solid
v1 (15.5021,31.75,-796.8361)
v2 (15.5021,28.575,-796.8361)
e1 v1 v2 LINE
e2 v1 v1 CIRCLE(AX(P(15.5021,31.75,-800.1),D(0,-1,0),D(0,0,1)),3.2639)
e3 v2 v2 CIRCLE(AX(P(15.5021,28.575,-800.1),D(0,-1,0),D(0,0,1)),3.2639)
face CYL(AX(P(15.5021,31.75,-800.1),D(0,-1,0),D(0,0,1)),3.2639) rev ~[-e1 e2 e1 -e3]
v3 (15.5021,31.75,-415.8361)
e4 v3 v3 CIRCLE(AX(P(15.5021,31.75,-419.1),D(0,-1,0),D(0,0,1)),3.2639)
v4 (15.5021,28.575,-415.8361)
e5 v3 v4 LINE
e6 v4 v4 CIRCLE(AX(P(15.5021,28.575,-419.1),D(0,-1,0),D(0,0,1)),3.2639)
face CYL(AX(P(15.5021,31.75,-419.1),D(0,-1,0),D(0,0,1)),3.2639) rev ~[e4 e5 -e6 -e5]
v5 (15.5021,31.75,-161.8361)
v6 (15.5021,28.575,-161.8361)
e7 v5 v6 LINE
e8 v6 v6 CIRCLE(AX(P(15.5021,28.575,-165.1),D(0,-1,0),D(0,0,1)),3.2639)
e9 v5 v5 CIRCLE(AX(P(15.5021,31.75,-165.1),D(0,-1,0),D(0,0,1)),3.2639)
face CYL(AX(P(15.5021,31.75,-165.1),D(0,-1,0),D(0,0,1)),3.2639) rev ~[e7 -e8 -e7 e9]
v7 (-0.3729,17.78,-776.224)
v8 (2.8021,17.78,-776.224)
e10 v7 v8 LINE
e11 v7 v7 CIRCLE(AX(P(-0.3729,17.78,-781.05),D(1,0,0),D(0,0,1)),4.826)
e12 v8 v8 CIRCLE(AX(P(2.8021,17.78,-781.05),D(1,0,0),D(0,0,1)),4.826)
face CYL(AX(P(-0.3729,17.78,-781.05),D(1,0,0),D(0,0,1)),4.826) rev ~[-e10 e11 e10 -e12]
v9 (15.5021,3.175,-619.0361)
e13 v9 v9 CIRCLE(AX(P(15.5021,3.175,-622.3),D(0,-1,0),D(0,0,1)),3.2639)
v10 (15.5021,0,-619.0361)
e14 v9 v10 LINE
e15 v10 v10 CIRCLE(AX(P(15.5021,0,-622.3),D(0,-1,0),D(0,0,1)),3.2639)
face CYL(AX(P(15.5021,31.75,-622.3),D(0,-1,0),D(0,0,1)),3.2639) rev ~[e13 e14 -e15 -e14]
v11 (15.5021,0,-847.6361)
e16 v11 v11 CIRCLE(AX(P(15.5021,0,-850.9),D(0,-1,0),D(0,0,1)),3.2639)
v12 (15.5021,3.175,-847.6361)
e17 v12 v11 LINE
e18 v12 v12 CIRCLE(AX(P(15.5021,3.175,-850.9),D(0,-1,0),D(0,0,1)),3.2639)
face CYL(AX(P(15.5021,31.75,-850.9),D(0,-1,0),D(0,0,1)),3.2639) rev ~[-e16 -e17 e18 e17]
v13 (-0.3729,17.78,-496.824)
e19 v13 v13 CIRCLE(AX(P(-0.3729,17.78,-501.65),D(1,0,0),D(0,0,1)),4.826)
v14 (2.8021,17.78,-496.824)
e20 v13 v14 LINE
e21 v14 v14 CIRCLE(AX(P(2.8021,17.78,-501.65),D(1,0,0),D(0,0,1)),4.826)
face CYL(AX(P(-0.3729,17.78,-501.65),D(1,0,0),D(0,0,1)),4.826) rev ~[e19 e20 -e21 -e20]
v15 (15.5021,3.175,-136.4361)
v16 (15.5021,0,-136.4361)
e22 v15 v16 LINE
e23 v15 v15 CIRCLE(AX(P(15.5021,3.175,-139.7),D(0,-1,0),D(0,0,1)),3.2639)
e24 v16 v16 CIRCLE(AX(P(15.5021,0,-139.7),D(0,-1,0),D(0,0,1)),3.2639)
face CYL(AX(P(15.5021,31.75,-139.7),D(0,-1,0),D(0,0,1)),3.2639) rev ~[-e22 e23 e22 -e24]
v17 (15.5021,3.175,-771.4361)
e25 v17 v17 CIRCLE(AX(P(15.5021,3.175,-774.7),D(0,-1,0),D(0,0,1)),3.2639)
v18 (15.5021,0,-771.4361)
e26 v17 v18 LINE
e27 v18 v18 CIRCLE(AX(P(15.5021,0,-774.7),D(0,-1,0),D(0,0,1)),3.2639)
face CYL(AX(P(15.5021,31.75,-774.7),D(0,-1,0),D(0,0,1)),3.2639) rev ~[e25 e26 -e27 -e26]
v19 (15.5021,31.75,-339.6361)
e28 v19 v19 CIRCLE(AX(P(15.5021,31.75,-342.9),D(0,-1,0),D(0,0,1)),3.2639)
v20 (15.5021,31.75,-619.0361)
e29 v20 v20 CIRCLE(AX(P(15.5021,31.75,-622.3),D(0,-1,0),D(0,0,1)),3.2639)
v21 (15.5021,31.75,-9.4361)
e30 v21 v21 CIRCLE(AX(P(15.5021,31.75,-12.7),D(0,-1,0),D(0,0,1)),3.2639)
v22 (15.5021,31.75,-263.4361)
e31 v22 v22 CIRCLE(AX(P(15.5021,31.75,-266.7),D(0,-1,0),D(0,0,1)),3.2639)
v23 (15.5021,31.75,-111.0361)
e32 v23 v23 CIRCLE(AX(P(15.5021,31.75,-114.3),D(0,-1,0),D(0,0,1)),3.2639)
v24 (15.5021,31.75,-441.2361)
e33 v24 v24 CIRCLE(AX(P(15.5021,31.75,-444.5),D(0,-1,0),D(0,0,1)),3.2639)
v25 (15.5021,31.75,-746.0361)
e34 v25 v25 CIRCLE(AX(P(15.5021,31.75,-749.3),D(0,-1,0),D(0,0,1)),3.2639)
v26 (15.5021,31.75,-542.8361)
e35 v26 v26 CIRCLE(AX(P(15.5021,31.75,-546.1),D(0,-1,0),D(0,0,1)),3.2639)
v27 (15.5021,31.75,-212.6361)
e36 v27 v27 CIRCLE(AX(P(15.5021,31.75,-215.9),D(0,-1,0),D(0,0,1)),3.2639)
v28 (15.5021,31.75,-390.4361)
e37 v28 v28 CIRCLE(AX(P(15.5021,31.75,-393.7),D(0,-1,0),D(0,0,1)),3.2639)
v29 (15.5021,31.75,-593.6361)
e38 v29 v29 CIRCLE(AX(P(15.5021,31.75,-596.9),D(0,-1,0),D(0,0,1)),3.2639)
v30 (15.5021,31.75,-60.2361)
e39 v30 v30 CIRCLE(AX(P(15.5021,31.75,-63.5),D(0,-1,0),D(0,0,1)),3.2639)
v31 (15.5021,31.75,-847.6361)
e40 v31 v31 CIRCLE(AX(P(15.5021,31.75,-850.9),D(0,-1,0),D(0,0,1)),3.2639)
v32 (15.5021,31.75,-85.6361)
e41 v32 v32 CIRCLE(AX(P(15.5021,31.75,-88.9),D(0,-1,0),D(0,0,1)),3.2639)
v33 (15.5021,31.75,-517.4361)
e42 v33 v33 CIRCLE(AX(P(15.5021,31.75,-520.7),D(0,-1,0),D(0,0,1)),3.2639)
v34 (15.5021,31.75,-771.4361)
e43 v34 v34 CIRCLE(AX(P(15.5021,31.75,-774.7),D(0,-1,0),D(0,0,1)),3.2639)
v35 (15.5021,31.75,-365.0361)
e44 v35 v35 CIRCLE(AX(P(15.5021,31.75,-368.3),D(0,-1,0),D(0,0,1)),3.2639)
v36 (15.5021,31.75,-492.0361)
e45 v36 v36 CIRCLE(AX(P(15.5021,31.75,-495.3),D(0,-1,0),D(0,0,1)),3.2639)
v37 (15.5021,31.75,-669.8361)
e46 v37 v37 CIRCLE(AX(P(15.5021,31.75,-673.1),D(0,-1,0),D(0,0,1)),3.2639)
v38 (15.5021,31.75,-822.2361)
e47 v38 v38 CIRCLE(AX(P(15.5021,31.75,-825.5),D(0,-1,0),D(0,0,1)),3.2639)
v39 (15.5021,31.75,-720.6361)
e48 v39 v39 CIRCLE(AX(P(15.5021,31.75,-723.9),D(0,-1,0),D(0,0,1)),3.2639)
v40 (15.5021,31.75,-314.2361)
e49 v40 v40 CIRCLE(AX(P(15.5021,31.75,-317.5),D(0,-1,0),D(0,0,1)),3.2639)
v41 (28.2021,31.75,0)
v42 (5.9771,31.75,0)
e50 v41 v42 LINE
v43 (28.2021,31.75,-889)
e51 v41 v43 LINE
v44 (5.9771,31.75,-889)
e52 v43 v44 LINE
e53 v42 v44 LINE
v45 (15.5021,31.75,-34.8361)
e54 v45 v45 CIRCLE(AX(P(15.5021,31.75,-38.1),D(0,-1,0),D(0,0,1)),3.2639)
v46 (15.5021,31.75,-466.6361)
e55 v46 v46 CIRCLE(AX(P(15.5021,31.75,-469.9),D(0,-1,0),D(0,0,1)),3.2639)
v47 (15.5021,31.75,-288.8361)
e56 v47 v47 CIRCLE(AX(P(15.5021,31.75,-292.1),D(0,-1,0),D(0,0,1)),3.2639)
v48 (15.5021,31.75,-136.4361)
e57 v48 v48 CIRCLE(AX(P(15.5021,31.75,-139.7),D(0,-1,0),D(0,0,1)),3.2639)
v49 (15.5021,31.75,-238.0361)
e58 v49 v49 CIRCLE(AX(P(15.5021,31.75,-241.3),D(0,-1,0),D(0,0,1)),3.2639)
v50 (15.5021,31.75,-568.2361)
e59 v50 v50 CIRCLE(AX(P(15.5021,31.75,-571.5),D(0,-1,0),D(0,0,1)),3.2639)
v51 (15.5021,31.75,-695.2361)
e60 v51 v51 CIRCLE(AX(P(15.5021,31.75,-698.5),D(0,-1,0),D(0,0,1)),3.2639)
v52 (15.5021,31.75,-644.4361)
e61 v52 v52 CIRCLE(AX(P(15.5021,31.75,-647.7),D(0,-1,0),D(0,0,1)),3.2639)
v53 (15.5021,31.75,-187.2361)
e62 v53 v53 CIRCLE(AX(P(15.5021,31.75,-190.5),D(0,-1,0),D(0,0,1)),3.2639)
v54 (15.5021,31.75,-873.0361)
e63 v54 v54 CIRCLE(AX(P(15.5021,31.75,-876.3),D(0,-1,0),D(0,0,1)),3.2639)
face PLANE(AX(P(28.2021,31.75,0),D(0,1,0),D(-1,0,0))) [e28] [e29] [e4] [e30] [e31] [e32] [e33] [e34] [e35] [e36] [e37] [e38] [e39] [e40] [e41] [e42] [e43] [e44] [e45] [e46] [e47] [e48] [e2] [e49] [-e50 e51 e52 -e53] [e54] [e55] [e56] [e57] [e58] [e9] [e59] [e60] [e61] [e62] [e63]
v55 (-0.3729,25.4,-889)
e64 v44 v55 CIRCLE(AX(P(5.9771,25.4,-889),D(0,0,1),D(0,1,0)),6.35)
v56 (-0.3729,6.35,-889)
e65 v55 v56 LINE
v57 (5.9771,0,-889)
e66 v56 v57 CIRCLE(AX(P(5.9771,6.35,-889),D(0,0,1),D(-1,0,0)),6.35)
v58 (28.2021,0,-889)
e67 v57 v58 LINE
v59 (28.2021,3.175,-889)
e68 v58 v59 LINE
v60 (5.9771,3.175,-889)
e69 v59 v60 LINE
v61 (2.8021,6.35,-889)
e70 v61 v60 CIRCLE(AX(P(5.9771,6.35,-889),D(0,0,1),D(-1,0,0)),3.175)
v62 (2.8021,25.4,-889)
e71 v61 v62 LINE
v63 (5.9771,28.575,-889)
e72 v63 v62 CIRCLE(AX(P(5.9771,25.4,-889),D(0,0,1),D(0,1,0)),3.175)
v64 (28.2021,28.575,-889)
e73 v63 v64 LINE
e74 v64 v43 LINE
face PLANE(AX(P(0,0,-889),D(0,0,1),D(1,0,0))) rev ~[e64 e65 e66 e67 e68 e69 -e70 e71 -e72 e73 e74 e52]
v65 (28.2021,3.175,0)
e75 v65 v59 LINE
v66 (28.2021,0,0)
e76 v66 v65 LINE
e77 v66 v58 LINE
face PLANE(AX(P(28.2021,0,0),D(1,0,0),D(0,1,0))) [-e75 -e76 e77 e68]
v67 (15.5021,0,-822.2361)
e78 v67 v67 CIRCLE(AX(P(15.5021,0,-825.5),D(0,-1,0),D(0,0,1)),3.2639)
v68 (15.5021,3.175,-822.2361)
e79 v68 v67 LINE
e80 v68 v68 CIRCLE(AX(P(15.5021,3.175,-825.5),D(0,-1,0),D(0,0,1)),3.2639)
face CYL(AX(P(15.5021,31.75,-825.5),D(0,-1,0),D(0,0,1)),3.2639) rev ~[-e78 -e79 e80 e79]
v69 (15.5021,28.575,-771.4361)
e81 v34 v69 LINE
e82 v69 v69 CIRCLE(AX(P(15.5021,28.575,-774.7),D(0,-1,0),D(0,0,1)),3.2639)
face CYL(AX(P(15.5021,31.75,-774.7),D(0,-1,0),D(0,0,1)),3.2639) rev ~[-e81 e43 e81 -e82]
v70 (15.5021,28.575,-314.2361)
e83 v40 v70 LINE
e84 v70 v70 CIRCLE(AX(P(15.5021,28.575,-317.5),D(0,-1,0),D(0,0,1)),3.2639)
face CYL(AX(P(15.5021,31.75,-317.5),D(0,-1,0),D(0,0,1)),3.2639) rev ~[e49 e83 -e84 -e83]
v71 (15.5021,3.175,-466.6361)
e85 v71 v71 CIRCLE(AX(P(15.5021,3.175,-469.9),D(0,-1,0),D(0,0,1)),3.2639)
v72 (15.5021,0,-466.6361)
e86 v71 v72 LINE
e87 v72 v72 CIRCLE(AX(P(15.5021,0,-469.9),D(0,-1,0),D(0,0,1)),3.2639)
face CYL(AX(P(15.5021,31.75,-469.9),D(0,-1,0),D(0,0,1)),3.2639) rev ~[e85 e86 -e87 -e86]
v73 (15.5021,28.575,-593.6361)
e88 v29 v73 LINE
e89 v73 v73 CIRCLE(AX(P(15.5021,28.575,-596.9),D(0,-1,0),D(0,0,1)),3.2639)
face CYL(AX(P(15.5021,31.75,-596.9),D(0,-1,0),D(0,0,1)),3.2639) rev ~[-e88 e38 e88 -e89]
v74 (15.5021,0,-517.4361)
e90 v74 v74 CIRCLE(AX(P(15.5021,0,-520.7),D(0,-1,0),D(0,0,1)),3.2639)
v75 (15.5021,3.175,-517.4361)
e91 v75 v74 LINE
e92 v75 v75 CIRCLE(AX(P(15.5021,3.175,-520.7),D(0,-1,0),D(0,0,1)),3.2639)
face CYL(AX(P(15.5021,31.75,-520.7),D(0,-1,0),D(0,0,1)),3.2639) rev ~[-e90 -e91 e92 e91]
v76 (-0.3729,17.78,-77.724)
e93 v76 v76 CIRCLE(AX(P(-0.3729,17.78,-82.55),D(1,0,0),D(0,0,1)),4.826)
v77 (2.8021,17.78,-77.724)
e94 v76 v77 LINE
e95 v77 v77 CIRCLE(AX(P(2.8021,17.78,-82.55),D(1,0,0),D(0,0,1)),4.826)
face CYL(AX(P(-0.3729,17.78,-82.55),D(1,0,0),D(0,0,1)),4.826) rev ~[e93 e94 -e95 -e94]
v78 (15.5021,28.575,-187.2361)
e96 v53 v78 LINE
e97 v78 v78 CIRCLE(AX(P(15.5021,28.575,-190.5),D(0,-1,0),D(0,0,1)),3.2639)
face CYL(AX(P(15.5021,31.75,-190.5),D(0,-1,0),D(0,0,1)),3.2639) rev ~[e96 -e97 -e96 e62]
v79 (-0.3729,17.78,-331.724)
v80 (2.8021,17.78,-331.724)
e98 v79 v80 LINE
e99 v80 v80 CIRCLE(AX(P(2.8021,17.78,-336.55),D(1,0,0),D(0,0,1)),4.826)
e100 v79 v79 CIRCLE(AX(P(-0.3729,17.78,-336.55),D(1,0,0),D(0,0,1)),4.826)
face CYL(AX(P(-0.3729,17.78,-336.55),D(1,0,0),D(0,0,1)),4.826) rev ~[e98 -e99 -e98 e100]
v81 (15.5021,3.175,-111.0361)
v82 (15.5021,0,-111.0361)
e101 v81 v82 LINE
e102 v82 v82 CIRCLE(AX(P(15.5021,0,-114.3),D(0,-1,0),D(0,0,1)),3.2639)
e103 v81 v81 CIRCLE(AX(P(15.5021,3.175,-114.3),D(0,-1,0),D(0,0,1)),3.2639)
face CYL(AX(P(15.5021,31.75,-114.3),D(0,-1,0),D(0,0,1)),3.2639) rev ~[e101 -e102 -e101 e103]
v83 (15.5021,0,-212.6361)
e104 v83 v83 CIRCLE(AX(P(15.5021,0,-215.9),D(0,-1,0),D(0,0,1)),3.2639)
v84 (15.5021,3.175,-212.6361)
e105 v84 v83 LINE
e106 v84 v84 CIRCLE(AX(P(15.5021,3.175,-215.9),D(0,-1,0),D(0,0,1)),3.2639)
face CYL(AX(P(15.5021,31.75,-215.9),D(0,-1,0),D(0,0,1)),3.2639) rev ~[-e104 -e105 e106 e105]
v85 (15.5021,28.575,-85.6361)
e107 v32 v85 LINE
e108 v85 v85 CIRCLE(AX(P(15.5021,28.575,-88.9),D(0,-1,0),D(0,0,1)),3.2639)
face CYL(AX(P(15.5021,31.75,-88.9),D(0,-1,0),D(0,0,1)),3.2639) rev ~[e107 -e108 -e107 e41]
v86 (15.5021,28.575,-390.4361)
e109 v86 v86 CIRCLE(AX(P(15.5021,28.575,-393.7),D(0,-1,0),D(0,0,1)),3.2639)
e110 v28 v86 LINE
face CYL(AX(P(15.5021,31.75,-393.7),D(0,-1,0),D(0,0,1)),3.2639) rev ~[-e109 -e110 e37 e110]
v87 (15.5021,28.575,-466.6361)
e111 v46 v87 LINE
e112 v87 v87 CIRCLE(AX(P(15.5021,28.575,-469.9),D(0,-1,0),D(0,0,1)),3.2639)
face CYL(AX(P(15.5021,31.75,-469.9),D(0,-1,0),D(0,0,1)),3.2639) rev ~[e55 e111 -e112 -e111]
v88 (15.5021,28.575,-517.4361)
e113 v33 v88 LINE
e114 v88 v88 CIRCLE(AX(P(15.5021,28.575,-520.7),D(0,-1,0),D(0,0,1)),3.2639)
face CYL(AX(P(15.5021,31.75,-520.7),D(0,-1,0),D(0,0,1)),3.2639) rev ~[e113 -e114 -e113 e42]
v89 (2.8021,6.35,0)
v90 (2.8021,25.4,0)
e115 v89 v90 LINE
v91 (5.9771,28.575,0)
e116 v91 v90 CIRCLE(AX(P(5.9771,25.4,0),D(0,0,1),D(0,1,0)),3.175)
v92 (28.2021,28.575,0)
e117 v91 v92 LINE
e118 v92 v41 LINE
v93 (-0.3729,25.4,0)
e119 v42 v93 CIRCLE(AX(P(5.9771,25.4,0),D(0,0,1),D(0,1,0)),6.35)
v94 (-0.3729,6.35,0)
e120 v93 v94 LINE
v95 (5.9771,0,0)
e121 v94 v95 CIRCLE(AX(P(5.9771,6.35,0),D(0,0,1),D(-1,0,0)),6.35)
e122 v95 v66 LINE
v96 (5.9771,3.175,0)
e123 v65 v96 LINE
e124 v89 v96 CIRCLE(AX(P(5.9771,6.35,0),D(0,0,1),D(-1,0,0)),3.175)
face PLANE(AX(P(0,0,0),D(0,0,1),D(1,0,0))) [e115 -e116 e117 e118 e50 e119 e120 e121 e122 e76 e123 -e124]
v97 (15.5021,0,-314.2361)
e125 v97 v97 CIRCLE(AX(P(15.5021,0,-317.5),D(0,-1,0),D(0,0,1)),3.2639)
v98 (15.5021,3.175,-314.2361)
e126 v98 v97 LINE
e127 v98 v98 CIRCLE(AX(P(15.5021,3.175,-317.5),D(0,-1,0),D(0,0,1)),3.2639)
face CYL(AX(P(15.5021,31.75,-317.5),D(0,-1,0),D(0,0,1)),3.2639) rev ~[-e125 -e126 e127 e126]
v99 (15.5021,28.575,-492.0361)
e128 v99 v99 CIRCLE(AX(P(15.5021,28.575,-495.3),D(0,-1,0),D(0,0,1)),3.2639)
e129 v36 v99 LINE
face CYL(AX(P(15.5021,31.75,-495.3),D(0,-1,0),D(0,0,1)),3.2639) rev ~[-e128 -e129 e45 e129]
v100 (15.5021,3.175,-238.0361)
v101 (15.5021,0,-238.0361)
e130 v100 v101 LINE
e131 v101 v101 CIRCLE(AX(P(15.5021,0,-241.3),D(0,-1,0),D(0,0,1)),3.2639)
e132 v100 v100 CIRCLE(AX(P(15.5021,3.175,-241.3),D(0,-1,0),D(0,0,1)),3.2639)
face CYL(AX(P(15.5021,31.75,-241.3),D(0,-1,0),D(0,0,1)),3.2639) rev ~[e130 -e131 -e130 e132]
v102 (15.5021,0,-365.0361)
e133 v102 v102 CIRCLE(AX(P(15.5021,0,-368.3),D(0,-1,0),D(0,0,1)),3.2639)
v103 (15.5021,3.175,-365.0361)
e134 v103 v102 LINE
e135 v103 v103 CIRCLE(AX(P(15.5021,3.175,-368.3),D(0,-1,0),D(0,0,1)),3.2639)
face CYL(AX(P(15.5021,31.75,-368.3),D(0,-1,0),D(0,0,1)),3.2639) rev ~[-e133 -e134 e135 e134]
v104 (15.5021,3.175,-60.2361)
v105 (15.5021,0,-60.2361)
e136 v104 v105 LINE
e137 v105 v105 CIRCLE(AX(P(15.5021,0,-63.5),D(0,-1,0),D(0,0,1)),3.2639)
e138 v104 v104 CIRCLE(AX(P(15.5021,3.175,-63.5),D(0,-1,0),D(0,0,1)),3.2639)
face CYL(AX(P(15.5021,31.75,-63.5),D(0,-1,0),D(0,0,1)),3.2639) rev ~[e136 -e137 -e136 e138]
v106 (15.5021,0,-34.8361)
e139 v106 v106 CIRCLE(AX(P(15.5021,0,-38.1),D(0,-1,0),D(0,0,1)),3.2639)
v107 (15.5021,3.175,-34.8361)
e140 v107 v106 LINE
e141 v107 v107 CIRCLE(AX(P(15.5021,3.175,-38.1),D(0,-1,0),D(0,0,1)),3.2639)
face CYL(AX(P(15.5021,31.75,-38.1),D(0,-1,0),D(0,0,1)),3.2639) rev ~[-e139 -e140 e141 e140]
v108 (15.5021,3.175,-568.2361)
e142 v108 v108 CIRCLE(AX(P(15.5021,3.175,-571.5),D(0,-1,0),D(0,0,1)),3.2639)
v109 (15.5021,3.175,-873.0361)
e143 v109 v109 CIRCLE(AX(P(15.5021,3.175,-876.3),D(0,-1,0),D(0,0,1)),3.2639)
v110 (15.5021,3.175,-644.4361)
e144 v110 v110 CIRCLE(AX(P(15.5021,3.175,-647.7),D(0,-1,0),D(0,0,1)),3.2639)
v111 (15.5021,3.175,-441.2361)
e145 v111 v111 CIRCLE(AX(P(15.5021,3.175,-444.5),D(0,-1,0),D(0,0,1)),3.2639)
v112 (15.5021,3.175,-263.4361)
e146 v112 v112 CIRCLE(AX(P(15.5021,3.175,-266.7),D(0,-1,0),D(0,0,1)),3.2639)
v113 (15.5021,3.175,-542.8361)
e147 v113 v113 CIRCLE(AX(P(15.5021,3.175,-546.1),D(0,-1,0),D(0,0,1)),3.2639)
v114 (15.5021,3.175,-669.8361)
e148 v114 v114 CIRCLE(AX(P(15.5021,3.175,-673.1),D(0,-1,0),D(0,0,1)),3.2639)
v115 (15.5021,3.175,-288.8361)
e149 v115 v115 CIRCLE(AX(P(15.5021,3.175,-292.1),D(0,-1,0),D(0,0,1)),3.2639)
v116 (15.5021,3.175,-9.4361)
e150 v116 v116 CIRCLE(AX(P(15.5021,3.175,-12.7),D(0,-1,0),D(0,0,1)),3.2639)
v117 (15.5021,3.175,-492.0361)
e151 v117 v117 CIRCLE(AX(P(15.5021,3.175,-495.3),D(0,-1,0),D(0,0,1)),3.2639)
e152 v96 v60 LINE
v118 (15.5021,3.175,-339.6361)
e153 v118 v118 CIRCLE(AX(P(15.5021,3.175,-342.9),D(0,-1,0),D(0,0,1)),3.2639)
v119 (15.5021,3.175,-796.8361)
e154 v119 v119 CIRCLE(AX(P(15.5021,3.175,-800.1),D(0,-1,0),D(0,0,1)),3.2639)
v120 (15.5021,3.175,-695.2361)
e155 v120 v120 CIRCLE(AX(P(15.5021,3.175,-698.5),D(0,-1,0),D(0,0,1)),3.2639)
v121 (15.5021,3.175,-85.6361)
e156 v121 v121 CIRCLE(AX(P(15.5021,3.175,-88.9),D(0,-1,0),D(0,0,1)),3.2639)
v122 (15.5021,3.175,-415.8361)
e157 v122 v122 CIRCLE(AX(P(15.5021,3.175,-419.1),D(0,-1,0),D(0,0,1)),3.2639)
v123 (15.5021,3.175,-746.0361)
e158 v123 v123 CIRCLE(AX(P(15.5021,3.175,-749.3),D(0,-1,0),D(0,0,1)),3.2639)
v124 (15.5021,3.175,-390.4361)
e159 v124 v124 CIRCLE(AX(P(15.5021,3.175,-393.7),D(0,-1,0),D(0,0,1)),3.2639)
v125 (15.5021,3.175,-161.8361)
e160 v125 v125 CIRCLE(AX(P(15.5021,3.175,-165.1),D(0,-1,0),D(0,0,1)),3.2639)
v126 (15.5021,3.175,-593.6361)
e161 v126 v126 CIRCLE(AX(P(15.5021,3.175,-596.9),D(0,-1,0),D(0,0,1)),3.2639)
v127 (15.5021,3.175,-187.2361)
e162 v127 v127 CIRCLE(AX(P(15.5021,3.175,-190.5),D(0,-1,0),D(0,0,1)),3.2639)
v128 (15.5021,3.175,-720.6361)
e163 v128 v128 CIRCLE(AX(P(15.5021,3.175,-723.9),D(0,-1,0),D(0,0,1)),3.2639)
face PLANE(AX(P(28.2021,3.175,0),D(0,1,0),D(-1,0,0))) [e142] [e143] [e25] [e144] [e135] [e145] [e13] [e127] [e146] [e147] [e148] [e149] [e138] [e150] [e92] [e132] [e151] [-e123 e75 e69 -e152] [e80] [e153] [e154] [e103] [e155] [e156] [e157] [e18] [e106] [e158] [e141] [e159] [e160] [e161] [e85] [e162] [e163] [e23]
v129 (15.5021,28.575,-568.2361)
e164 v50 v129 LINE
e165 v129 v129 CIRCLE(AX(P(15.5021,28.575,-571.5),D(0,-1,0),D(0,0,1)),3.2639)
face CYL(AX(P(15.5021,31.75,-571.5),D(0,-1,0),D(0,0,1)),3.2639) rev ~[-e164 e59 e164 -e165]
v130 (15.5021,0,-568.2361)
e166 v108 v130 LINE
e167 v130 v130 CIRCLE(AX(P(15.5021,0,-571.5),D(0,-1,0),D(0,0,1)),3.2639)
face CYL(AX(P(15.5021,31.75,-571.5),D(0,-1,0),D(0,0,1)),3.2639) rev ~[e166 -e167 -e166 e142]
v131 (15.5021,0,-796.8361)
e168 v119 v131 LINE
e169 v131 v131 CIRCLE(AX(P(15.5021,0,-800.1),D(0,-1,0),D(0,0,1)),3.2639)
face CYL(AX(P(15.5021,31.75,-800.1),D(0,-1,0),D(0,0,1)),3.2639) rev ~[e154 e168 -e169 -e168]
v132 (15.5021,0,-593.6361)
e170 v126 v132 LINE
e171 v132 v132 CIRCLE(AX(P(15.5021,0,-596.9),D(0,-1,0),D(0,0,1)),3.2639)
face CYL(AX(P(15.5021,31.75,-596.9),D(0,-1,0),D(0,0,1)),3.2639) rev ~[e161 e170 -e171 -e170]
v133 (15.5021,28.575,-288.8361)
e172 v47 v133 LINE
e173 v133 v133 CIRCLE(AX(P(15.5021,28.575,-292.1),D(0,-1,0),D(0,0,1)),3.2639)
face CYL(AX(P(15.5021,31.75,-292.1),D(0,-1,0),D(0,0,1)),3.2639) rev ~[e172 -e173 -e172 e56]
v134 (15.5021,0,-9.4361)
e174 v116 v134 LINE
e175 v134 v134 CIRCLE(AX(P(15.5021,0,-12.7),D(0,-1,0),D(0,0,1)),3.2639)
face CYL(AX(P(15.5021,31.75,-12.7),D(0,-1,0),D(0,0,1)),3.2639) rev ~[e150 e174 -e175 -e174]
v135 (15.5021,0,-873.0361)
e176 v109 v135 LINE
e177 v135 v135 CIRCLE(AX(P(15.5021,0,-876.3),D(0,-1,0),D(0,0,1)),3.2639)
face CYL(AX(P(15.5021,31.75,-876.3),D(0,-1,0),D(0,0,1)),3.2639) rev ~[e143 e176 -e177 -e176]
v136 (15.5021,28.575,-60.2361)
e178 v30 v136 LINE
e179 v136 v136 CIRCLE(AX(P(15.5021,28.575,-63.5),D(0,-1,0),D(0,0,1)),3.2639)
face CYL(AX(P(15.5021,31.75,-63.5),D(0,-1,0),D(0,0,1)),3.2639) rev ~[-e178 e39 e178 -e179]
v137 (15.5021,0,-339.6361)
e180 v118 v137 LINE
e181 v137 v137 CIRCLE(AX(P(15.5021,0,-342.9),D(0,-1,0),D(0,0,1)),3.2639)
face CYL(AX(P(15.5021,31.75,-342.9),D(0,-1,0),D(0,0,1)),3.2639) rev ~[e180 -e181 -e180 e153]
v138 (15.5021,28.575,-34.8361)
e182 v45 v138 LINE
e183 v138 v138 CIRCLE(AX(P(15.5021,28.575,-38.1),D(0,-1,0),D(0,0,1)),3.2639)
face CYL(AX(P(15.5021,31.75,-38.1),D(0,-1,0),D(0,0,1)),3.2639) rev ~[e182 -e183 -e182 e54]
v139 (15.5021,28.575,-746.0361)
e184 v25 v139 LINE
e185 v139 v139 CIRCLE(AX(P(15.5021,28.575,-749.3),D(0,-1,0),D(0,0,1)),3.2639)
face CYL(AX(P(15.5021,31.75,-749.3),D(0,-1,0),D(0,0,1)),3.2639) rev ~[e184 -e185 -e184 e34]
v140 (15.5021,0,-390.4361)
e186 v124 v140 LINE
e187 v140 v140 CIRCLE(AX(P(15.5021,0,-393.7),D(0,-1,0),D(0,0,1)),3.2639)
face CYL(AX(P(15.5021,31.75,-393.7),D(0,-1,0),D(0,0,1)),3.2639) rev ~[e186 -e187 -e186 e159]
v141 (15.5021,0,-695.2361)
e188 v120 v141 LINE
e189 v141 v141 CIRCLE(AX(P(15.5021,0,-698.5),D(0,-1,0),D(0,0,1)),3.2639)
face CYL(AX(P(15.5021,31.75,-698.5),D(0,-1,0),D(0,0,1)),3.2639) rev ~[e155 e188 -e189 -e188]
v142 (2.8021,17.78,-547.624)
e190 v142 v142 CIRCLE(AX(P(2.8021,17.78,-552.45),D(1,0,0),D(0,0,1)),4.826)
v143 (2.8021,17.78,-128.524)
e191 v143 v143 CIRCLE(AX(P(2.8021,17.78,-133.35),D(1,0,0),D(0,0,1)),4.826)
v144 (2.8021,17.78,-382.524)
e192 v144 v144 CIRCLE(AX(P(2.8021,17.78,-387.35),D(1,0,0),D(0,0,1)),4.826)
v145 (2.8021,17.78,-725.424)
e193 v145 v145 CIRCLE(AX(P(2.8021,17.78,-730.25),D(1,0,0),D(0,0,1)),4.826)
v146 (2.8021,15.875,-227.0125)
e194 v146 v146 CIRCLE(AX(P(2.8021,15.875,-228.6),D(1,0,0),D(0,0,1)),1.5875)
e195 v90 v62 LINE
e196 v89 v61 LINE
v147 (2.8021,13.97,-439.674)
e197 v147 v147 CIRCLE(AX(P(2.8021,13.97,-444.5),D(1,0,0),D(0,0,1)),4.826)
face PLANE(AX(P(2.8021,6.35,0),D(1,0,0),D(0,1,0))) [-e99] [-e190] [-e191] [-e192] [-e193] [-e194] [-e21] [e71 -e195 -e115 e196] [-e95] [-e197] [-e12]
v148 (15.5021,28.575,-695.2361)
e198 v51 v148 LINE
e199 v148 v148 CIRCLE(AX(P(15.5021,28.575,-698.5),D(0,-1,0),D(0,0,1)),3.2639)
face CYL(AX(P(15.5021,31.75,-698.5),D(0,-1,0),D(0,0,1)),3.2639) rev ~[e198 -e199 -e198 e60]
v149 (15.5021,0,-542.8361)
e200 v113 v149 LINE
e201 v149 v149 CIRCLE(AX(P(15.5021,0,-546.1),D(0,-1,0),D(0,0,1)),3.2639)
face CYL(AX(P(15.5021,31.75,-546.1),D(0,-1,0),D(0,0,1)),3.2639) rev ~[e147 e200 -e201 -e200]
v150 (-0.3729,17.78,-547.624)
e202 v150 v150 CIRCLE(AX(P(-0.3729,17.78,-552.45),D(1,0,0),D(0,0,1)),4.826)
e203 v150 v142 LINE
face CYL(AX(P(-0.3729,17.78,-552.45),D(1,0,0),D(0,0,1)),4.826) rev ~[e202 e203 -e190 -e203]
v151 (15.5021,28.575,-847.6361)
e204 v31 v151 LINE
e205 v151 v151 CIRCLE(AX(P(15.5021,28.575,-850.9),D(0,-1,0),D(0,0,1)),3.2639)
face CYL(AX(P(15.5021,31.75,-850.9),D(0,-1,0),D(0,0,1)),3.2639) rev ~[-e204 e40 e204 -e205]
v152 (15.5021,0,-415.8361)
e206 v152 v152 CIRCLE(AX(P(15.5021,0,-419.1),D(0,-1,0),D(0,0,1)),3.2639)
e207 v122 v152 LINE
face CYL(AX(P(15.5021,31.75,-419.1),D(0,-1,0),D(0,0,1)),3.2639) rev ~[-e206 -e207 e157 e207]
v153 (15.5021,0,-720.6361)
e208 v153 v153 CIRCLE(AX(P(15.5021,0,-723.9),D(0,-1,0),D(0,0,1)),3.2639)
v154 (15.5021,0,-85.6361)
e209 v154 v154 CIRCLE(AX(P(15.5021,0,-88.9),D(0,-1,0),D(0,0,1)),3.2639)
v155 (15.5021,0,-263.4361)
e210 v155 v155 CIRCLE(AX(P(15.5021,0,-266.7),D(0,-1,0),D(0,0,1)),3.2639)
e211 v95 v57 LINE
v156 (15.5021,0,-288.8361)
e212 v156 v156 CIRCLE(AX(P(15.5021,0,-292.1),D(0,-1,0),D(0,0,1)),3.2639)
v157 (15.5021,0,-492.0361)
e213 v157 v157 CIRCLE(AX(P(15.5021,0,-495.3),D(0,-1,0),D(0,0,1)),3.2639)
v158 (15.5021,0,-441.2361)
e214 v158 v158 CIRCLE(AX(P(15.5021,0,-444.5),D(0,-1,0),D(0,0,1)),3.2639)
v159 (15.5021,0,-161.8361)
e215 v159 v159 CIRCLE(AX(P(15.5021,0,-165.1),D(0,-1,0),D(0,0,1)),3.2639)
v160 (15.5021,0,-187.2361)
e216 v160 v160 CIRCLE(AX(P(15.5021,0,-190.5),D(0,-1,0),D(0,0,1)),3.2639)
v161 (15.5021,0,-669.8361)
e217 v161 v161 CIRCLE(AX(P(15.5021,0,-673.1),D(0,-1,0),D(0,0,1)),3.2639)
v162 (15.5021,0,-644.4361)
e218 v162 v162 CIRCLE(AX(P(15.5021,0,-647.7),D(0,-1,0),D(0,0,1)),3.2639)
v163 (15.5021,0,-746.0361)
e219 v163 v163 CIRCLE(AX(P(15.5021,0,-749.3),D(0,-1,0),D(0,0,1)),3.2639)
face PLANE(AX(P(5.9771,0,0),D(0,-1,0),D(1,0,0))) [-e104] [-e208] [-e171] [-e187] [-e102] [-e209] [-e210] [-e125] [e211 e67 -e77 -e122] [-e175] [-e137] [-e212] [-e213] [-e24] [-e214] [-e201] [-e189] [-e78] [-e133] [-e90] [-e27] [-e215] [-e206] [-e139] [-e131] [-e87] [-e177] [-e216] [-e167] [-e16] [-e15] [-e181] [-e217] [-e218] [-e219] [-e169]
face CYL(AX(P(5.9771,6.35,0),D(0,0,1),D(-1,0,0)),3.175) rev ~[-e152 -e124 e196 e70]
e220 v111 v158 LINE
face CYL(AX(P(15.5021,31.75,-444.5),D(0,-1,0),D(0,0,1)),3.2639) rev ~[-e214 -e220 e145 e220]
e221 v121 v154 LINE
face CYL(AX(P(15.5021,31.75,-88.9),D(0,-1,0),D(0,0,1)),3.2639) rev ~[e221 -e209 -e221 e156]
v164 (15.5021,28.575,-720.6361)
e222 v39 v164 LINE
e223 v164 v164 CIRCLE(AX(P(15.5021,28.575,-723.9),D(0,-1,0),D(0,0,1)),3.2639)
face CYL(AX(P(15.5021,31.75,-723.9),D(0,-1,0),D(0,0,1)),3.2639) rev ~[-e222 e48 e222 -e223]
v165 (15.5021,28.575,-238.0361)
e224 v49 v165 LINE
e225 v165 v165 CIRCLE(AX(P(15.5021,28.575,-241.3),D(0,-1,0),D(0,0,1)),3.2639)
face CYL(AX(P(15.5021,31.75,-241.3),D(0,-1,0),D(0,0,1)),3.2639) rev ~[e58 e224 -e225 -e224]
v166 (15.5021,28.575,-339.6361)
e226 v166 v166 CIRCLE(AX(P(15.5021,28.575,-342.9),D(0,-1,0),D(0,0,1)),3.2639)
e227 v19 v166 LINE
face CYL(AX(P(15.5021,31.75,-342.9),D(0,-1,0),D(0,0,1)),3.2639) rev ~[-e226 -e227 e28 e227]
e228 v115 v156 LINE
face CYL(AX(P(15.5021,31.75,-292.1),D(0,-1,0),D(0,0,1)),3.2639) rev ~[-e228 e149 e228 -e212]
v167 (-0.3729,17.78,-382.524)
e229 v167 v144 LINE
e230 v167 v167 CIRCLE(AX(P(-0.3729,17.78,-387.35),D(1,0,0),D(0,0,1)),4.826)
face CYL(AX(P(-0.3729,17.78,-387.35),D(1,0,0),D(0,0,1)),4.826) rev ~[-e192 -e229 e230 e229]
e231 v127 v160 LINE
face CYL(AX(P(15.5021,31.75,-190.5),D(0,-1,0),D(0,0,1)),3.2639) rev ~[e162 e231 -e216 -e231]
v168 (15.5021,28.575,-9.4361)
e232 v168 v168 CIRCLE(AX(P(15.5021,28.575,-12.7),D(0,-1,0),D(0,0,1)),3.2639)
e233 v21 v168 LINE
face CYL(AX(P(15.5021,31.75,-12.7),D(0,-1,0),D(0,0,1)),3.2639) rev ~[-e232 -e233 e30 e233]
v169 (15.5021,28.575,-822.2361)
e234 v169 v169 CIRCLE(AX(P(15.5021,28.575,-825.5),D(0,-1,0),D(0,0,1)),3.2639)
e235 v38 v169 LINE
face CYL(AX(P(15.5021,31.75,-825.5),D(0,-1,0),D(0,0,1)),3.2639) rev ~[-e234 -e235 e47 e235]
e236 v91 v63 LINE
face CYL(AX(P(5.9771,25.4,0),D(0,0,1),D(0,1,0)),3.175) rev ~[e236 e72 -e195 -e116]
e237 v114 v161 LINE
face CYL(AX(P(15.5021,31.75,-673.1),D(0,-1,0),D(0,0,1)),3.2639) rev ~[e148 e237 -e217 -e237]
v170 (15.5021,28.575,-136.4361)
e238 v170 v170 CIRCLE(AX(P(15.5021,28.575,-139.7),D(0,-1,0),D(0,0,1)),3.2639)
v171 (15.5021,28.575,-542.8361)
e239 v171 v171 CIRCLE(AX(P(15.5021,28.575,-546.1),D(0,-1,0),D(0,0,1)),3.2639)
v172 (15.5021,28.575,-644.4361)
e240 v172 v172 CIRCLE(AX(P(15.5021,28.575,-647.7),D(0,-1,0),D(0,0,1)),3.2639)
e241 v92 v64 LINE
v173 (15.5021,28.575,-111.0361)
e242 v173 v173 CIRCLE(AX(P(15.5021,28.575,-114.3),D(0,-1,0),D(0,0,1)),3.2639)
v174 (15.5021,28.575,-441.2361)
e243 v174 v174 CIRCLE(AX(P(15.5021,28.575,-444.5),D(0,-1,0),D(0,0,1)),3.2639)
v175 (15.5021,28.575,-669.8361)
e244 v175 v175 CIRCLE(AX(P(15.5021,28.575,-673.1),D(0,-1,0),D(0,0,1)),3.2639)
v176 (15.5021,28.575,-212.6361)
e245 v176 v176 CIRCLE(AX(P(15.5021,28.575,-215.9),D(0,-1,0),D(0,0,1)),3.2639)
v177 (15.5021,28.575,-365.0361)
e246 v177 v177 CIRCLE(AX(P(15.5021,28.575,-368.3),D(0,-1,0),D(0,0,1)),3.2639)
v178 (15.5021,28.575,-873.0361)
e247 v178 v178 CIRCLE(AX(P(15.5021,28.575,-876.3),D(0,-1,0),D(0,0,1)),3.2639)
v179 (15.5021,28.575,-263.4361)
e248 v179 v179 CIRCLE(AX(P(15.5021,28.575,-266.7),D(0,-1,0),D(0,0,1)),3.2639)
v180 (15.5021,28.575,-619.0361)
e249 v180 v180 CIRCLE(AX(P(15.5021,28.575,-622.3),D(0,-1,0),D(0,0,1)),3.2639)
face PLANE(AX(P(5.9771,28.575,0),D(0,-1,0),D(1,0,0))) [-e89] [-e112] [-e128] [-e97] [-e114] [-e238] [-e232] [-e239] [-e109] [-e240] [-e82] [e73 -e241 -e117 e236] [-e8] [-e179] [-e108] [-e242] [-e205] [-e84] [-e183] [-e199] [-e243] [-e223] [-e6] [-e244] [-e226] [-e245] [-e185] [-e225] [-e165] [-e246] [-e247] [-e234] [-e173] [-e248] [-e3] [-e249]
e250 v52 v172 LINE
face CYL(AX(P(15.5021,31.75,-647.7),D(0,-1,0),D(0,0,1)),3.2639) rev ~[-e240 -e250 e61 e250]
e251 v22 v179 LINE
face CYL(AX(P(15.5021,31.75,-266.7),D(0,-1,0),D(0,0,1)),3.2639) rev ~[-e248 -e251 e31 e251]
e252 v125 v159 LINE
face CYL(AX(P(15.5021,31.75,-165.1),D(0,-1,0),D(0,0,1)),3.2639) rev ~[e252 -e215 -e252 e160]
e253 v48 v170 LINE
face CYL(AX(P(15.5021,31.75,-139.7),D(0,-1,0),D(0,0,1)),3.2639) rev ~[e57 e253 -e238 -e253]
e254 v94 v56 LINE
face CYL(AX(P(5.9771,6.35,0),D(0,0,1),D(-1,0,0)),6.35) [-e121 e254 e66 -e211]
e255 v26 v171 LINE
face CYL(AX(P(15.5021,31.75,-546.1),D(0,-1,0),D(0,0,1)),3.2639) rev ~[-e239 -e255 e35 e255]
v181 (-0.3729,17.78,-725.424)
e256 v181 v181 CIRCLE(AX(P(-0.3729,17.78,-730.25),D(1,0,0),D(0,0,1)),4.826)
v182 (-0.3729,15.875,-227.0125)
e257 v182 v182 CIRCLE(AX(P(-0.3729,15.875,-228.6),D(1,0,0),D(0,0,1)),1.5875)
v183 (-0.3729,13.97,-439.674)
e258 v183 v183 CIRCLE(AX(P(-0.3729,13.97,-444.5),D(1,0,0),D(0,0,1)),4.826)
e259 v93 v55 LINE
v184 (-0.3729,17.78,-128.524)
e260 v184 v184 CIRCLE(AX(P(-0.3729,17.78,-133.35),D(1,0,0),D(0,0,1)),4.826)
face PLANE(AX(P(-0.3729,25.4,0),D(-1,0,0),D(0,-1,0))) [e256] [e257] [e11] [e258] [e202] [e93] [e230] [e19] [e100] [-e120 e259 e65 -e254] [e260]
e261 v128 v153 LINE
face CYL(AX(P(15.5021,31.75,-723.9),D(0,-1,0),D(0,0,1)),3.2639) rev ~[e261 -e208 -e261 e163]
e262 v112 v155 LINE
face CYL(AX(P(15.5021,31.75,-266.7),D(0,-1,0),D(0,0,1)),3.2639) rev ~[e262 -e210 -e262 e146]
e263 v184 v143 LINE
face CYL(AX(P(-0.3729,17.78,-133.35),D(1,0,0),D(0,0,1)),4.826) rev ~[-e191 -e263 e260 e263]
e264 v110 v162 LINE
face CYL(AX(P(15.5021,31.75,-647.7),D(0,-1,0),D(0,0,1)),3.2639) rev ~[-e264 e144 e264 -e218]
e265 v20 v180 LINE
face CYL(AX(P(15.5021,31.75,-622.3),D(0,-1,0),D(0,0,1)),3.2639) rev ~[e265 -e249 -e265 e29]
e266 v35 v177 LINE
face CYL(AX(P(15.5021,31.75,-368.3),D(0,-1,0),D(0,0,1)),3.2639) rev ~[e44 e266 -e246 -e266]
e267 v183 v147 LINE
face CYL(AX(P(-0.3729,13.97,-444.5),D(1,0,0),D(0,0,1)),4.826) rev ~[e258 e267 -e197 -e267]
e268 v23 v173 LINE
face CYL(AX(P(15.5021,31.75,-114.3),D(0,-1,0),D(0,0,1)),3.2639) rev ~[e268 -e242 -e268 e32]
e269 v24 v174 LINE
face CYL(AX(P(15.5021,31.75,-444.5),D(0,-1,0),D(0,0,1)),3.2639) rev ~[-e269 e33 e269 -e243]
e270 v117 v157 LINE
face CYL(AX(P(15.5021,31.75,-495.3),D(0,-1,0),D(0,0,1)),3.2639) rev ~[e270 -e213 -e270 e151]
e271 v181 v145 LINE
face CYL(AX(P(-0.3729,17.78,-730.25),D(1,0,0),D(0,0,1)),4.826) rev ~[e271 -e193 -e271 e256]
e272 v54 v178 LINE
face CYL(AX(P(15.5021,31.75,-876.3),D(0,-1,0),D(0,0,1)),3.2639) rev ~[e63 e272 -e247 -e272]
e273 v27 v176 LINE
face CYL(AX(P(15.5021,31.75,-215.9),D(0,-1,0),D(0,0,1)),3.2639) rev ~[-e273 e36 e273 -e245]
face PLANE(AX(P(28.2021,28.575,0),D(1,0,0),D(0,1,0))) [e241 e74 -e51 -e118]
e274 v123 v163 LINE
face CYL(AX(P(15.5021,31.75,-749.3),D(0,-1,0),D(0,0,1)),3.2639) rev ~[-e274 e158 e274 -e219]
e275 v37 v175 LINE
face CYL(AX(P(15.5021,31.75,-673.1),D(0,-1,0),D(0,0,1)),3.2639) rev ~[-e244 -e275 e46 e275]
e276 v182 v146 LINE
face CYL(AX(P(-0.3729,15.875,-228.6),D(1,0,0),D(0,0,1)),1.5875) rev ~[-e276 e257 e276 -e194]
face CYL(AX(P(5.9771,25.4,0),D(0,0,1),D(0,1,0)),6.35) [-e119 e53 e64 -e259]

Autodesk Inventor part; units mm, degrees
ref_plane "YZ Plane" through (0, 0, 0) normal (1, 0, 0) x (0, 1, 0)
ref_plane "XZ Plane" through (0, 0, 0) normal (0, 1, 0) x (-1, 0, 0)
ref_plane "XY Plane" through (0, 0, 0) normal (0, 0, 1) x (1, 0, 0)
sketch "Sketch1" plane through (0, 0, 0) normal (0, 0, 1) x (1, 0, 0)
  line L0 (5.9771, 0) -> (28.2021, 0)
  line L1 (28.2021, 0) -> (28.2021, 3.175)
  line L2 (28.2021, 3.175) -> (5.9771, 3.175)
  line L3 (2.8021, 6.35) -> (2.8021, 25.4)
  line L4 (5.9771, 28.575) -> (28.2021, 28.575)
  line L5 (28.2021, 28.575) -> (28.2021, 31.75)
  line L6 (28.2021, 31.75) -> (5.9771, 31.75)
  line L7 (-0.3729, 25.4) -> (-0.3729, 6.35)
  arc A0 (5.9771, 28.575) -> (2.8021, 25.4) centre (5.9771, 25.4) ccw
  arc A1 (2.8021, 6.35) -> (5.9771, 3.175) centre (5.9771, 6.35) ccw
  arc A2 (5.9771, 31.75) -> (-0.3729, 25.4) centre (5.9771, 25.4) ccw
  arc A3 (-0.3729, 6.35) -> (5.9771, 0) centre (5.9771, 6.35) ccw
  point P0 (0, 0)
  point P1 (-0.3729, 0)
  point P2 (2.8021, 3.175)
  point P3 (2.8021, 28.575)
  dimension "d0" = 28.575
  dimension "d1" = 3.175
  dimension "d2" = 25.4
  dimension "d3" = 25.4
  dimension "d4" = 3.175
  dimension "d5" = 3.175
  dimension "d6" = 6.35
extrude "Extrusion1" add sketch "Sketch1" against normal blind 889
sketch "Sketch2" plane through (-0.3729, 6.35, 0) normal (-1, 0, 0) x (0, 0, 1)
  line L0 (0, 19.05) -> (-889, 19.05) projected
  line L1 (-228.6, 0) -> (-228.6, 7.9375)
  arc A0 (-228.6, 11.1125) -> (-228.6, 7.9375) centre (-228.6, 9.525) ccw
  line L2 (-228.6, 11.1125) -> (-228.6, 19.05)
  line L3 (-228.6, 19.05) -> (-889, 19.05)
  line L4 (-889, 0) -> (-889, 19.05)
  line L5 (-889, 0) -> (-228.6, 0)
  circle A1 centre (-552.45, 11.43) radius 4.826
  circle A2 centre (-501.65, 11.43) radius 4.826
  circle A3 centre (-387.35, 11.43) radius 4.826
  circle A4 centre (-336.55, 11.43) radius 4.826
  circle A5 centre (-444.5, 7.62) radius 4.826
  circle A6 centre (-730.25, 11.43) radius 4.826
  circle A7 centre (-781.05, 11.43) radius 4.826
  line L6 (0, 25.4) -> (-889, 25.4) construction
  circle A8 centre (-133.35, 11.43) radius 4.826
  circle A9 centre (-82.55, 11.43) radius 4.826
  point P0 (0, -6.35)
  point P1 (-254, 0.852)
  dimension "d10" = 7.62
  dimension "d11" = 3.81
  dimension "d14" = 254
hole "Hole1" at (-0.3729, 17.78, -781.05) at (-0.3729, 17.78, -730.25) at (-0.3729, 17.78, -552.45) at (-0.3729, 17.78, -501.65) at (-0.3729, 13.97, -444.5) at (-0.3729, 17.78, -387.35) at (-0.3729, 17.78, -336.55) at (-0.3729, 17.78, -133.35) at (-0.3729, 17.78, -82.55) direction (1, 0, 0) diameter 9.652 end through all
hole "Hole2" at (-0.3729, 15.875, -228.6) direction (1, 0, 0) diameter 3.175 end through all
sketch "Sketch3" plane through (5.9771, 31.75, 0) normal (0, 1, 0) x (1, 0, 0)
  line L0 (22.225, 889) -> (0, 889) projected
  line L1 (22.225, 0) -> (22.225, 889) projected
  point P0 (-5.9771, 0)
  point P1 (9.525, 876.3)
  dimension "d34" = 12.7
  dimension "d35" = 12.7
hole "Hole3" at (15.5021, 31.75, -876.3) direction (0, -1, 0) diameter 6.5278 end through all
pattern_linear "Rectangular Pattern1" count 35 spacing 25.4 along (0, 0, 1) of "Hole3"
equation "\"d35\" = d34"
properties part number "am-0202"
